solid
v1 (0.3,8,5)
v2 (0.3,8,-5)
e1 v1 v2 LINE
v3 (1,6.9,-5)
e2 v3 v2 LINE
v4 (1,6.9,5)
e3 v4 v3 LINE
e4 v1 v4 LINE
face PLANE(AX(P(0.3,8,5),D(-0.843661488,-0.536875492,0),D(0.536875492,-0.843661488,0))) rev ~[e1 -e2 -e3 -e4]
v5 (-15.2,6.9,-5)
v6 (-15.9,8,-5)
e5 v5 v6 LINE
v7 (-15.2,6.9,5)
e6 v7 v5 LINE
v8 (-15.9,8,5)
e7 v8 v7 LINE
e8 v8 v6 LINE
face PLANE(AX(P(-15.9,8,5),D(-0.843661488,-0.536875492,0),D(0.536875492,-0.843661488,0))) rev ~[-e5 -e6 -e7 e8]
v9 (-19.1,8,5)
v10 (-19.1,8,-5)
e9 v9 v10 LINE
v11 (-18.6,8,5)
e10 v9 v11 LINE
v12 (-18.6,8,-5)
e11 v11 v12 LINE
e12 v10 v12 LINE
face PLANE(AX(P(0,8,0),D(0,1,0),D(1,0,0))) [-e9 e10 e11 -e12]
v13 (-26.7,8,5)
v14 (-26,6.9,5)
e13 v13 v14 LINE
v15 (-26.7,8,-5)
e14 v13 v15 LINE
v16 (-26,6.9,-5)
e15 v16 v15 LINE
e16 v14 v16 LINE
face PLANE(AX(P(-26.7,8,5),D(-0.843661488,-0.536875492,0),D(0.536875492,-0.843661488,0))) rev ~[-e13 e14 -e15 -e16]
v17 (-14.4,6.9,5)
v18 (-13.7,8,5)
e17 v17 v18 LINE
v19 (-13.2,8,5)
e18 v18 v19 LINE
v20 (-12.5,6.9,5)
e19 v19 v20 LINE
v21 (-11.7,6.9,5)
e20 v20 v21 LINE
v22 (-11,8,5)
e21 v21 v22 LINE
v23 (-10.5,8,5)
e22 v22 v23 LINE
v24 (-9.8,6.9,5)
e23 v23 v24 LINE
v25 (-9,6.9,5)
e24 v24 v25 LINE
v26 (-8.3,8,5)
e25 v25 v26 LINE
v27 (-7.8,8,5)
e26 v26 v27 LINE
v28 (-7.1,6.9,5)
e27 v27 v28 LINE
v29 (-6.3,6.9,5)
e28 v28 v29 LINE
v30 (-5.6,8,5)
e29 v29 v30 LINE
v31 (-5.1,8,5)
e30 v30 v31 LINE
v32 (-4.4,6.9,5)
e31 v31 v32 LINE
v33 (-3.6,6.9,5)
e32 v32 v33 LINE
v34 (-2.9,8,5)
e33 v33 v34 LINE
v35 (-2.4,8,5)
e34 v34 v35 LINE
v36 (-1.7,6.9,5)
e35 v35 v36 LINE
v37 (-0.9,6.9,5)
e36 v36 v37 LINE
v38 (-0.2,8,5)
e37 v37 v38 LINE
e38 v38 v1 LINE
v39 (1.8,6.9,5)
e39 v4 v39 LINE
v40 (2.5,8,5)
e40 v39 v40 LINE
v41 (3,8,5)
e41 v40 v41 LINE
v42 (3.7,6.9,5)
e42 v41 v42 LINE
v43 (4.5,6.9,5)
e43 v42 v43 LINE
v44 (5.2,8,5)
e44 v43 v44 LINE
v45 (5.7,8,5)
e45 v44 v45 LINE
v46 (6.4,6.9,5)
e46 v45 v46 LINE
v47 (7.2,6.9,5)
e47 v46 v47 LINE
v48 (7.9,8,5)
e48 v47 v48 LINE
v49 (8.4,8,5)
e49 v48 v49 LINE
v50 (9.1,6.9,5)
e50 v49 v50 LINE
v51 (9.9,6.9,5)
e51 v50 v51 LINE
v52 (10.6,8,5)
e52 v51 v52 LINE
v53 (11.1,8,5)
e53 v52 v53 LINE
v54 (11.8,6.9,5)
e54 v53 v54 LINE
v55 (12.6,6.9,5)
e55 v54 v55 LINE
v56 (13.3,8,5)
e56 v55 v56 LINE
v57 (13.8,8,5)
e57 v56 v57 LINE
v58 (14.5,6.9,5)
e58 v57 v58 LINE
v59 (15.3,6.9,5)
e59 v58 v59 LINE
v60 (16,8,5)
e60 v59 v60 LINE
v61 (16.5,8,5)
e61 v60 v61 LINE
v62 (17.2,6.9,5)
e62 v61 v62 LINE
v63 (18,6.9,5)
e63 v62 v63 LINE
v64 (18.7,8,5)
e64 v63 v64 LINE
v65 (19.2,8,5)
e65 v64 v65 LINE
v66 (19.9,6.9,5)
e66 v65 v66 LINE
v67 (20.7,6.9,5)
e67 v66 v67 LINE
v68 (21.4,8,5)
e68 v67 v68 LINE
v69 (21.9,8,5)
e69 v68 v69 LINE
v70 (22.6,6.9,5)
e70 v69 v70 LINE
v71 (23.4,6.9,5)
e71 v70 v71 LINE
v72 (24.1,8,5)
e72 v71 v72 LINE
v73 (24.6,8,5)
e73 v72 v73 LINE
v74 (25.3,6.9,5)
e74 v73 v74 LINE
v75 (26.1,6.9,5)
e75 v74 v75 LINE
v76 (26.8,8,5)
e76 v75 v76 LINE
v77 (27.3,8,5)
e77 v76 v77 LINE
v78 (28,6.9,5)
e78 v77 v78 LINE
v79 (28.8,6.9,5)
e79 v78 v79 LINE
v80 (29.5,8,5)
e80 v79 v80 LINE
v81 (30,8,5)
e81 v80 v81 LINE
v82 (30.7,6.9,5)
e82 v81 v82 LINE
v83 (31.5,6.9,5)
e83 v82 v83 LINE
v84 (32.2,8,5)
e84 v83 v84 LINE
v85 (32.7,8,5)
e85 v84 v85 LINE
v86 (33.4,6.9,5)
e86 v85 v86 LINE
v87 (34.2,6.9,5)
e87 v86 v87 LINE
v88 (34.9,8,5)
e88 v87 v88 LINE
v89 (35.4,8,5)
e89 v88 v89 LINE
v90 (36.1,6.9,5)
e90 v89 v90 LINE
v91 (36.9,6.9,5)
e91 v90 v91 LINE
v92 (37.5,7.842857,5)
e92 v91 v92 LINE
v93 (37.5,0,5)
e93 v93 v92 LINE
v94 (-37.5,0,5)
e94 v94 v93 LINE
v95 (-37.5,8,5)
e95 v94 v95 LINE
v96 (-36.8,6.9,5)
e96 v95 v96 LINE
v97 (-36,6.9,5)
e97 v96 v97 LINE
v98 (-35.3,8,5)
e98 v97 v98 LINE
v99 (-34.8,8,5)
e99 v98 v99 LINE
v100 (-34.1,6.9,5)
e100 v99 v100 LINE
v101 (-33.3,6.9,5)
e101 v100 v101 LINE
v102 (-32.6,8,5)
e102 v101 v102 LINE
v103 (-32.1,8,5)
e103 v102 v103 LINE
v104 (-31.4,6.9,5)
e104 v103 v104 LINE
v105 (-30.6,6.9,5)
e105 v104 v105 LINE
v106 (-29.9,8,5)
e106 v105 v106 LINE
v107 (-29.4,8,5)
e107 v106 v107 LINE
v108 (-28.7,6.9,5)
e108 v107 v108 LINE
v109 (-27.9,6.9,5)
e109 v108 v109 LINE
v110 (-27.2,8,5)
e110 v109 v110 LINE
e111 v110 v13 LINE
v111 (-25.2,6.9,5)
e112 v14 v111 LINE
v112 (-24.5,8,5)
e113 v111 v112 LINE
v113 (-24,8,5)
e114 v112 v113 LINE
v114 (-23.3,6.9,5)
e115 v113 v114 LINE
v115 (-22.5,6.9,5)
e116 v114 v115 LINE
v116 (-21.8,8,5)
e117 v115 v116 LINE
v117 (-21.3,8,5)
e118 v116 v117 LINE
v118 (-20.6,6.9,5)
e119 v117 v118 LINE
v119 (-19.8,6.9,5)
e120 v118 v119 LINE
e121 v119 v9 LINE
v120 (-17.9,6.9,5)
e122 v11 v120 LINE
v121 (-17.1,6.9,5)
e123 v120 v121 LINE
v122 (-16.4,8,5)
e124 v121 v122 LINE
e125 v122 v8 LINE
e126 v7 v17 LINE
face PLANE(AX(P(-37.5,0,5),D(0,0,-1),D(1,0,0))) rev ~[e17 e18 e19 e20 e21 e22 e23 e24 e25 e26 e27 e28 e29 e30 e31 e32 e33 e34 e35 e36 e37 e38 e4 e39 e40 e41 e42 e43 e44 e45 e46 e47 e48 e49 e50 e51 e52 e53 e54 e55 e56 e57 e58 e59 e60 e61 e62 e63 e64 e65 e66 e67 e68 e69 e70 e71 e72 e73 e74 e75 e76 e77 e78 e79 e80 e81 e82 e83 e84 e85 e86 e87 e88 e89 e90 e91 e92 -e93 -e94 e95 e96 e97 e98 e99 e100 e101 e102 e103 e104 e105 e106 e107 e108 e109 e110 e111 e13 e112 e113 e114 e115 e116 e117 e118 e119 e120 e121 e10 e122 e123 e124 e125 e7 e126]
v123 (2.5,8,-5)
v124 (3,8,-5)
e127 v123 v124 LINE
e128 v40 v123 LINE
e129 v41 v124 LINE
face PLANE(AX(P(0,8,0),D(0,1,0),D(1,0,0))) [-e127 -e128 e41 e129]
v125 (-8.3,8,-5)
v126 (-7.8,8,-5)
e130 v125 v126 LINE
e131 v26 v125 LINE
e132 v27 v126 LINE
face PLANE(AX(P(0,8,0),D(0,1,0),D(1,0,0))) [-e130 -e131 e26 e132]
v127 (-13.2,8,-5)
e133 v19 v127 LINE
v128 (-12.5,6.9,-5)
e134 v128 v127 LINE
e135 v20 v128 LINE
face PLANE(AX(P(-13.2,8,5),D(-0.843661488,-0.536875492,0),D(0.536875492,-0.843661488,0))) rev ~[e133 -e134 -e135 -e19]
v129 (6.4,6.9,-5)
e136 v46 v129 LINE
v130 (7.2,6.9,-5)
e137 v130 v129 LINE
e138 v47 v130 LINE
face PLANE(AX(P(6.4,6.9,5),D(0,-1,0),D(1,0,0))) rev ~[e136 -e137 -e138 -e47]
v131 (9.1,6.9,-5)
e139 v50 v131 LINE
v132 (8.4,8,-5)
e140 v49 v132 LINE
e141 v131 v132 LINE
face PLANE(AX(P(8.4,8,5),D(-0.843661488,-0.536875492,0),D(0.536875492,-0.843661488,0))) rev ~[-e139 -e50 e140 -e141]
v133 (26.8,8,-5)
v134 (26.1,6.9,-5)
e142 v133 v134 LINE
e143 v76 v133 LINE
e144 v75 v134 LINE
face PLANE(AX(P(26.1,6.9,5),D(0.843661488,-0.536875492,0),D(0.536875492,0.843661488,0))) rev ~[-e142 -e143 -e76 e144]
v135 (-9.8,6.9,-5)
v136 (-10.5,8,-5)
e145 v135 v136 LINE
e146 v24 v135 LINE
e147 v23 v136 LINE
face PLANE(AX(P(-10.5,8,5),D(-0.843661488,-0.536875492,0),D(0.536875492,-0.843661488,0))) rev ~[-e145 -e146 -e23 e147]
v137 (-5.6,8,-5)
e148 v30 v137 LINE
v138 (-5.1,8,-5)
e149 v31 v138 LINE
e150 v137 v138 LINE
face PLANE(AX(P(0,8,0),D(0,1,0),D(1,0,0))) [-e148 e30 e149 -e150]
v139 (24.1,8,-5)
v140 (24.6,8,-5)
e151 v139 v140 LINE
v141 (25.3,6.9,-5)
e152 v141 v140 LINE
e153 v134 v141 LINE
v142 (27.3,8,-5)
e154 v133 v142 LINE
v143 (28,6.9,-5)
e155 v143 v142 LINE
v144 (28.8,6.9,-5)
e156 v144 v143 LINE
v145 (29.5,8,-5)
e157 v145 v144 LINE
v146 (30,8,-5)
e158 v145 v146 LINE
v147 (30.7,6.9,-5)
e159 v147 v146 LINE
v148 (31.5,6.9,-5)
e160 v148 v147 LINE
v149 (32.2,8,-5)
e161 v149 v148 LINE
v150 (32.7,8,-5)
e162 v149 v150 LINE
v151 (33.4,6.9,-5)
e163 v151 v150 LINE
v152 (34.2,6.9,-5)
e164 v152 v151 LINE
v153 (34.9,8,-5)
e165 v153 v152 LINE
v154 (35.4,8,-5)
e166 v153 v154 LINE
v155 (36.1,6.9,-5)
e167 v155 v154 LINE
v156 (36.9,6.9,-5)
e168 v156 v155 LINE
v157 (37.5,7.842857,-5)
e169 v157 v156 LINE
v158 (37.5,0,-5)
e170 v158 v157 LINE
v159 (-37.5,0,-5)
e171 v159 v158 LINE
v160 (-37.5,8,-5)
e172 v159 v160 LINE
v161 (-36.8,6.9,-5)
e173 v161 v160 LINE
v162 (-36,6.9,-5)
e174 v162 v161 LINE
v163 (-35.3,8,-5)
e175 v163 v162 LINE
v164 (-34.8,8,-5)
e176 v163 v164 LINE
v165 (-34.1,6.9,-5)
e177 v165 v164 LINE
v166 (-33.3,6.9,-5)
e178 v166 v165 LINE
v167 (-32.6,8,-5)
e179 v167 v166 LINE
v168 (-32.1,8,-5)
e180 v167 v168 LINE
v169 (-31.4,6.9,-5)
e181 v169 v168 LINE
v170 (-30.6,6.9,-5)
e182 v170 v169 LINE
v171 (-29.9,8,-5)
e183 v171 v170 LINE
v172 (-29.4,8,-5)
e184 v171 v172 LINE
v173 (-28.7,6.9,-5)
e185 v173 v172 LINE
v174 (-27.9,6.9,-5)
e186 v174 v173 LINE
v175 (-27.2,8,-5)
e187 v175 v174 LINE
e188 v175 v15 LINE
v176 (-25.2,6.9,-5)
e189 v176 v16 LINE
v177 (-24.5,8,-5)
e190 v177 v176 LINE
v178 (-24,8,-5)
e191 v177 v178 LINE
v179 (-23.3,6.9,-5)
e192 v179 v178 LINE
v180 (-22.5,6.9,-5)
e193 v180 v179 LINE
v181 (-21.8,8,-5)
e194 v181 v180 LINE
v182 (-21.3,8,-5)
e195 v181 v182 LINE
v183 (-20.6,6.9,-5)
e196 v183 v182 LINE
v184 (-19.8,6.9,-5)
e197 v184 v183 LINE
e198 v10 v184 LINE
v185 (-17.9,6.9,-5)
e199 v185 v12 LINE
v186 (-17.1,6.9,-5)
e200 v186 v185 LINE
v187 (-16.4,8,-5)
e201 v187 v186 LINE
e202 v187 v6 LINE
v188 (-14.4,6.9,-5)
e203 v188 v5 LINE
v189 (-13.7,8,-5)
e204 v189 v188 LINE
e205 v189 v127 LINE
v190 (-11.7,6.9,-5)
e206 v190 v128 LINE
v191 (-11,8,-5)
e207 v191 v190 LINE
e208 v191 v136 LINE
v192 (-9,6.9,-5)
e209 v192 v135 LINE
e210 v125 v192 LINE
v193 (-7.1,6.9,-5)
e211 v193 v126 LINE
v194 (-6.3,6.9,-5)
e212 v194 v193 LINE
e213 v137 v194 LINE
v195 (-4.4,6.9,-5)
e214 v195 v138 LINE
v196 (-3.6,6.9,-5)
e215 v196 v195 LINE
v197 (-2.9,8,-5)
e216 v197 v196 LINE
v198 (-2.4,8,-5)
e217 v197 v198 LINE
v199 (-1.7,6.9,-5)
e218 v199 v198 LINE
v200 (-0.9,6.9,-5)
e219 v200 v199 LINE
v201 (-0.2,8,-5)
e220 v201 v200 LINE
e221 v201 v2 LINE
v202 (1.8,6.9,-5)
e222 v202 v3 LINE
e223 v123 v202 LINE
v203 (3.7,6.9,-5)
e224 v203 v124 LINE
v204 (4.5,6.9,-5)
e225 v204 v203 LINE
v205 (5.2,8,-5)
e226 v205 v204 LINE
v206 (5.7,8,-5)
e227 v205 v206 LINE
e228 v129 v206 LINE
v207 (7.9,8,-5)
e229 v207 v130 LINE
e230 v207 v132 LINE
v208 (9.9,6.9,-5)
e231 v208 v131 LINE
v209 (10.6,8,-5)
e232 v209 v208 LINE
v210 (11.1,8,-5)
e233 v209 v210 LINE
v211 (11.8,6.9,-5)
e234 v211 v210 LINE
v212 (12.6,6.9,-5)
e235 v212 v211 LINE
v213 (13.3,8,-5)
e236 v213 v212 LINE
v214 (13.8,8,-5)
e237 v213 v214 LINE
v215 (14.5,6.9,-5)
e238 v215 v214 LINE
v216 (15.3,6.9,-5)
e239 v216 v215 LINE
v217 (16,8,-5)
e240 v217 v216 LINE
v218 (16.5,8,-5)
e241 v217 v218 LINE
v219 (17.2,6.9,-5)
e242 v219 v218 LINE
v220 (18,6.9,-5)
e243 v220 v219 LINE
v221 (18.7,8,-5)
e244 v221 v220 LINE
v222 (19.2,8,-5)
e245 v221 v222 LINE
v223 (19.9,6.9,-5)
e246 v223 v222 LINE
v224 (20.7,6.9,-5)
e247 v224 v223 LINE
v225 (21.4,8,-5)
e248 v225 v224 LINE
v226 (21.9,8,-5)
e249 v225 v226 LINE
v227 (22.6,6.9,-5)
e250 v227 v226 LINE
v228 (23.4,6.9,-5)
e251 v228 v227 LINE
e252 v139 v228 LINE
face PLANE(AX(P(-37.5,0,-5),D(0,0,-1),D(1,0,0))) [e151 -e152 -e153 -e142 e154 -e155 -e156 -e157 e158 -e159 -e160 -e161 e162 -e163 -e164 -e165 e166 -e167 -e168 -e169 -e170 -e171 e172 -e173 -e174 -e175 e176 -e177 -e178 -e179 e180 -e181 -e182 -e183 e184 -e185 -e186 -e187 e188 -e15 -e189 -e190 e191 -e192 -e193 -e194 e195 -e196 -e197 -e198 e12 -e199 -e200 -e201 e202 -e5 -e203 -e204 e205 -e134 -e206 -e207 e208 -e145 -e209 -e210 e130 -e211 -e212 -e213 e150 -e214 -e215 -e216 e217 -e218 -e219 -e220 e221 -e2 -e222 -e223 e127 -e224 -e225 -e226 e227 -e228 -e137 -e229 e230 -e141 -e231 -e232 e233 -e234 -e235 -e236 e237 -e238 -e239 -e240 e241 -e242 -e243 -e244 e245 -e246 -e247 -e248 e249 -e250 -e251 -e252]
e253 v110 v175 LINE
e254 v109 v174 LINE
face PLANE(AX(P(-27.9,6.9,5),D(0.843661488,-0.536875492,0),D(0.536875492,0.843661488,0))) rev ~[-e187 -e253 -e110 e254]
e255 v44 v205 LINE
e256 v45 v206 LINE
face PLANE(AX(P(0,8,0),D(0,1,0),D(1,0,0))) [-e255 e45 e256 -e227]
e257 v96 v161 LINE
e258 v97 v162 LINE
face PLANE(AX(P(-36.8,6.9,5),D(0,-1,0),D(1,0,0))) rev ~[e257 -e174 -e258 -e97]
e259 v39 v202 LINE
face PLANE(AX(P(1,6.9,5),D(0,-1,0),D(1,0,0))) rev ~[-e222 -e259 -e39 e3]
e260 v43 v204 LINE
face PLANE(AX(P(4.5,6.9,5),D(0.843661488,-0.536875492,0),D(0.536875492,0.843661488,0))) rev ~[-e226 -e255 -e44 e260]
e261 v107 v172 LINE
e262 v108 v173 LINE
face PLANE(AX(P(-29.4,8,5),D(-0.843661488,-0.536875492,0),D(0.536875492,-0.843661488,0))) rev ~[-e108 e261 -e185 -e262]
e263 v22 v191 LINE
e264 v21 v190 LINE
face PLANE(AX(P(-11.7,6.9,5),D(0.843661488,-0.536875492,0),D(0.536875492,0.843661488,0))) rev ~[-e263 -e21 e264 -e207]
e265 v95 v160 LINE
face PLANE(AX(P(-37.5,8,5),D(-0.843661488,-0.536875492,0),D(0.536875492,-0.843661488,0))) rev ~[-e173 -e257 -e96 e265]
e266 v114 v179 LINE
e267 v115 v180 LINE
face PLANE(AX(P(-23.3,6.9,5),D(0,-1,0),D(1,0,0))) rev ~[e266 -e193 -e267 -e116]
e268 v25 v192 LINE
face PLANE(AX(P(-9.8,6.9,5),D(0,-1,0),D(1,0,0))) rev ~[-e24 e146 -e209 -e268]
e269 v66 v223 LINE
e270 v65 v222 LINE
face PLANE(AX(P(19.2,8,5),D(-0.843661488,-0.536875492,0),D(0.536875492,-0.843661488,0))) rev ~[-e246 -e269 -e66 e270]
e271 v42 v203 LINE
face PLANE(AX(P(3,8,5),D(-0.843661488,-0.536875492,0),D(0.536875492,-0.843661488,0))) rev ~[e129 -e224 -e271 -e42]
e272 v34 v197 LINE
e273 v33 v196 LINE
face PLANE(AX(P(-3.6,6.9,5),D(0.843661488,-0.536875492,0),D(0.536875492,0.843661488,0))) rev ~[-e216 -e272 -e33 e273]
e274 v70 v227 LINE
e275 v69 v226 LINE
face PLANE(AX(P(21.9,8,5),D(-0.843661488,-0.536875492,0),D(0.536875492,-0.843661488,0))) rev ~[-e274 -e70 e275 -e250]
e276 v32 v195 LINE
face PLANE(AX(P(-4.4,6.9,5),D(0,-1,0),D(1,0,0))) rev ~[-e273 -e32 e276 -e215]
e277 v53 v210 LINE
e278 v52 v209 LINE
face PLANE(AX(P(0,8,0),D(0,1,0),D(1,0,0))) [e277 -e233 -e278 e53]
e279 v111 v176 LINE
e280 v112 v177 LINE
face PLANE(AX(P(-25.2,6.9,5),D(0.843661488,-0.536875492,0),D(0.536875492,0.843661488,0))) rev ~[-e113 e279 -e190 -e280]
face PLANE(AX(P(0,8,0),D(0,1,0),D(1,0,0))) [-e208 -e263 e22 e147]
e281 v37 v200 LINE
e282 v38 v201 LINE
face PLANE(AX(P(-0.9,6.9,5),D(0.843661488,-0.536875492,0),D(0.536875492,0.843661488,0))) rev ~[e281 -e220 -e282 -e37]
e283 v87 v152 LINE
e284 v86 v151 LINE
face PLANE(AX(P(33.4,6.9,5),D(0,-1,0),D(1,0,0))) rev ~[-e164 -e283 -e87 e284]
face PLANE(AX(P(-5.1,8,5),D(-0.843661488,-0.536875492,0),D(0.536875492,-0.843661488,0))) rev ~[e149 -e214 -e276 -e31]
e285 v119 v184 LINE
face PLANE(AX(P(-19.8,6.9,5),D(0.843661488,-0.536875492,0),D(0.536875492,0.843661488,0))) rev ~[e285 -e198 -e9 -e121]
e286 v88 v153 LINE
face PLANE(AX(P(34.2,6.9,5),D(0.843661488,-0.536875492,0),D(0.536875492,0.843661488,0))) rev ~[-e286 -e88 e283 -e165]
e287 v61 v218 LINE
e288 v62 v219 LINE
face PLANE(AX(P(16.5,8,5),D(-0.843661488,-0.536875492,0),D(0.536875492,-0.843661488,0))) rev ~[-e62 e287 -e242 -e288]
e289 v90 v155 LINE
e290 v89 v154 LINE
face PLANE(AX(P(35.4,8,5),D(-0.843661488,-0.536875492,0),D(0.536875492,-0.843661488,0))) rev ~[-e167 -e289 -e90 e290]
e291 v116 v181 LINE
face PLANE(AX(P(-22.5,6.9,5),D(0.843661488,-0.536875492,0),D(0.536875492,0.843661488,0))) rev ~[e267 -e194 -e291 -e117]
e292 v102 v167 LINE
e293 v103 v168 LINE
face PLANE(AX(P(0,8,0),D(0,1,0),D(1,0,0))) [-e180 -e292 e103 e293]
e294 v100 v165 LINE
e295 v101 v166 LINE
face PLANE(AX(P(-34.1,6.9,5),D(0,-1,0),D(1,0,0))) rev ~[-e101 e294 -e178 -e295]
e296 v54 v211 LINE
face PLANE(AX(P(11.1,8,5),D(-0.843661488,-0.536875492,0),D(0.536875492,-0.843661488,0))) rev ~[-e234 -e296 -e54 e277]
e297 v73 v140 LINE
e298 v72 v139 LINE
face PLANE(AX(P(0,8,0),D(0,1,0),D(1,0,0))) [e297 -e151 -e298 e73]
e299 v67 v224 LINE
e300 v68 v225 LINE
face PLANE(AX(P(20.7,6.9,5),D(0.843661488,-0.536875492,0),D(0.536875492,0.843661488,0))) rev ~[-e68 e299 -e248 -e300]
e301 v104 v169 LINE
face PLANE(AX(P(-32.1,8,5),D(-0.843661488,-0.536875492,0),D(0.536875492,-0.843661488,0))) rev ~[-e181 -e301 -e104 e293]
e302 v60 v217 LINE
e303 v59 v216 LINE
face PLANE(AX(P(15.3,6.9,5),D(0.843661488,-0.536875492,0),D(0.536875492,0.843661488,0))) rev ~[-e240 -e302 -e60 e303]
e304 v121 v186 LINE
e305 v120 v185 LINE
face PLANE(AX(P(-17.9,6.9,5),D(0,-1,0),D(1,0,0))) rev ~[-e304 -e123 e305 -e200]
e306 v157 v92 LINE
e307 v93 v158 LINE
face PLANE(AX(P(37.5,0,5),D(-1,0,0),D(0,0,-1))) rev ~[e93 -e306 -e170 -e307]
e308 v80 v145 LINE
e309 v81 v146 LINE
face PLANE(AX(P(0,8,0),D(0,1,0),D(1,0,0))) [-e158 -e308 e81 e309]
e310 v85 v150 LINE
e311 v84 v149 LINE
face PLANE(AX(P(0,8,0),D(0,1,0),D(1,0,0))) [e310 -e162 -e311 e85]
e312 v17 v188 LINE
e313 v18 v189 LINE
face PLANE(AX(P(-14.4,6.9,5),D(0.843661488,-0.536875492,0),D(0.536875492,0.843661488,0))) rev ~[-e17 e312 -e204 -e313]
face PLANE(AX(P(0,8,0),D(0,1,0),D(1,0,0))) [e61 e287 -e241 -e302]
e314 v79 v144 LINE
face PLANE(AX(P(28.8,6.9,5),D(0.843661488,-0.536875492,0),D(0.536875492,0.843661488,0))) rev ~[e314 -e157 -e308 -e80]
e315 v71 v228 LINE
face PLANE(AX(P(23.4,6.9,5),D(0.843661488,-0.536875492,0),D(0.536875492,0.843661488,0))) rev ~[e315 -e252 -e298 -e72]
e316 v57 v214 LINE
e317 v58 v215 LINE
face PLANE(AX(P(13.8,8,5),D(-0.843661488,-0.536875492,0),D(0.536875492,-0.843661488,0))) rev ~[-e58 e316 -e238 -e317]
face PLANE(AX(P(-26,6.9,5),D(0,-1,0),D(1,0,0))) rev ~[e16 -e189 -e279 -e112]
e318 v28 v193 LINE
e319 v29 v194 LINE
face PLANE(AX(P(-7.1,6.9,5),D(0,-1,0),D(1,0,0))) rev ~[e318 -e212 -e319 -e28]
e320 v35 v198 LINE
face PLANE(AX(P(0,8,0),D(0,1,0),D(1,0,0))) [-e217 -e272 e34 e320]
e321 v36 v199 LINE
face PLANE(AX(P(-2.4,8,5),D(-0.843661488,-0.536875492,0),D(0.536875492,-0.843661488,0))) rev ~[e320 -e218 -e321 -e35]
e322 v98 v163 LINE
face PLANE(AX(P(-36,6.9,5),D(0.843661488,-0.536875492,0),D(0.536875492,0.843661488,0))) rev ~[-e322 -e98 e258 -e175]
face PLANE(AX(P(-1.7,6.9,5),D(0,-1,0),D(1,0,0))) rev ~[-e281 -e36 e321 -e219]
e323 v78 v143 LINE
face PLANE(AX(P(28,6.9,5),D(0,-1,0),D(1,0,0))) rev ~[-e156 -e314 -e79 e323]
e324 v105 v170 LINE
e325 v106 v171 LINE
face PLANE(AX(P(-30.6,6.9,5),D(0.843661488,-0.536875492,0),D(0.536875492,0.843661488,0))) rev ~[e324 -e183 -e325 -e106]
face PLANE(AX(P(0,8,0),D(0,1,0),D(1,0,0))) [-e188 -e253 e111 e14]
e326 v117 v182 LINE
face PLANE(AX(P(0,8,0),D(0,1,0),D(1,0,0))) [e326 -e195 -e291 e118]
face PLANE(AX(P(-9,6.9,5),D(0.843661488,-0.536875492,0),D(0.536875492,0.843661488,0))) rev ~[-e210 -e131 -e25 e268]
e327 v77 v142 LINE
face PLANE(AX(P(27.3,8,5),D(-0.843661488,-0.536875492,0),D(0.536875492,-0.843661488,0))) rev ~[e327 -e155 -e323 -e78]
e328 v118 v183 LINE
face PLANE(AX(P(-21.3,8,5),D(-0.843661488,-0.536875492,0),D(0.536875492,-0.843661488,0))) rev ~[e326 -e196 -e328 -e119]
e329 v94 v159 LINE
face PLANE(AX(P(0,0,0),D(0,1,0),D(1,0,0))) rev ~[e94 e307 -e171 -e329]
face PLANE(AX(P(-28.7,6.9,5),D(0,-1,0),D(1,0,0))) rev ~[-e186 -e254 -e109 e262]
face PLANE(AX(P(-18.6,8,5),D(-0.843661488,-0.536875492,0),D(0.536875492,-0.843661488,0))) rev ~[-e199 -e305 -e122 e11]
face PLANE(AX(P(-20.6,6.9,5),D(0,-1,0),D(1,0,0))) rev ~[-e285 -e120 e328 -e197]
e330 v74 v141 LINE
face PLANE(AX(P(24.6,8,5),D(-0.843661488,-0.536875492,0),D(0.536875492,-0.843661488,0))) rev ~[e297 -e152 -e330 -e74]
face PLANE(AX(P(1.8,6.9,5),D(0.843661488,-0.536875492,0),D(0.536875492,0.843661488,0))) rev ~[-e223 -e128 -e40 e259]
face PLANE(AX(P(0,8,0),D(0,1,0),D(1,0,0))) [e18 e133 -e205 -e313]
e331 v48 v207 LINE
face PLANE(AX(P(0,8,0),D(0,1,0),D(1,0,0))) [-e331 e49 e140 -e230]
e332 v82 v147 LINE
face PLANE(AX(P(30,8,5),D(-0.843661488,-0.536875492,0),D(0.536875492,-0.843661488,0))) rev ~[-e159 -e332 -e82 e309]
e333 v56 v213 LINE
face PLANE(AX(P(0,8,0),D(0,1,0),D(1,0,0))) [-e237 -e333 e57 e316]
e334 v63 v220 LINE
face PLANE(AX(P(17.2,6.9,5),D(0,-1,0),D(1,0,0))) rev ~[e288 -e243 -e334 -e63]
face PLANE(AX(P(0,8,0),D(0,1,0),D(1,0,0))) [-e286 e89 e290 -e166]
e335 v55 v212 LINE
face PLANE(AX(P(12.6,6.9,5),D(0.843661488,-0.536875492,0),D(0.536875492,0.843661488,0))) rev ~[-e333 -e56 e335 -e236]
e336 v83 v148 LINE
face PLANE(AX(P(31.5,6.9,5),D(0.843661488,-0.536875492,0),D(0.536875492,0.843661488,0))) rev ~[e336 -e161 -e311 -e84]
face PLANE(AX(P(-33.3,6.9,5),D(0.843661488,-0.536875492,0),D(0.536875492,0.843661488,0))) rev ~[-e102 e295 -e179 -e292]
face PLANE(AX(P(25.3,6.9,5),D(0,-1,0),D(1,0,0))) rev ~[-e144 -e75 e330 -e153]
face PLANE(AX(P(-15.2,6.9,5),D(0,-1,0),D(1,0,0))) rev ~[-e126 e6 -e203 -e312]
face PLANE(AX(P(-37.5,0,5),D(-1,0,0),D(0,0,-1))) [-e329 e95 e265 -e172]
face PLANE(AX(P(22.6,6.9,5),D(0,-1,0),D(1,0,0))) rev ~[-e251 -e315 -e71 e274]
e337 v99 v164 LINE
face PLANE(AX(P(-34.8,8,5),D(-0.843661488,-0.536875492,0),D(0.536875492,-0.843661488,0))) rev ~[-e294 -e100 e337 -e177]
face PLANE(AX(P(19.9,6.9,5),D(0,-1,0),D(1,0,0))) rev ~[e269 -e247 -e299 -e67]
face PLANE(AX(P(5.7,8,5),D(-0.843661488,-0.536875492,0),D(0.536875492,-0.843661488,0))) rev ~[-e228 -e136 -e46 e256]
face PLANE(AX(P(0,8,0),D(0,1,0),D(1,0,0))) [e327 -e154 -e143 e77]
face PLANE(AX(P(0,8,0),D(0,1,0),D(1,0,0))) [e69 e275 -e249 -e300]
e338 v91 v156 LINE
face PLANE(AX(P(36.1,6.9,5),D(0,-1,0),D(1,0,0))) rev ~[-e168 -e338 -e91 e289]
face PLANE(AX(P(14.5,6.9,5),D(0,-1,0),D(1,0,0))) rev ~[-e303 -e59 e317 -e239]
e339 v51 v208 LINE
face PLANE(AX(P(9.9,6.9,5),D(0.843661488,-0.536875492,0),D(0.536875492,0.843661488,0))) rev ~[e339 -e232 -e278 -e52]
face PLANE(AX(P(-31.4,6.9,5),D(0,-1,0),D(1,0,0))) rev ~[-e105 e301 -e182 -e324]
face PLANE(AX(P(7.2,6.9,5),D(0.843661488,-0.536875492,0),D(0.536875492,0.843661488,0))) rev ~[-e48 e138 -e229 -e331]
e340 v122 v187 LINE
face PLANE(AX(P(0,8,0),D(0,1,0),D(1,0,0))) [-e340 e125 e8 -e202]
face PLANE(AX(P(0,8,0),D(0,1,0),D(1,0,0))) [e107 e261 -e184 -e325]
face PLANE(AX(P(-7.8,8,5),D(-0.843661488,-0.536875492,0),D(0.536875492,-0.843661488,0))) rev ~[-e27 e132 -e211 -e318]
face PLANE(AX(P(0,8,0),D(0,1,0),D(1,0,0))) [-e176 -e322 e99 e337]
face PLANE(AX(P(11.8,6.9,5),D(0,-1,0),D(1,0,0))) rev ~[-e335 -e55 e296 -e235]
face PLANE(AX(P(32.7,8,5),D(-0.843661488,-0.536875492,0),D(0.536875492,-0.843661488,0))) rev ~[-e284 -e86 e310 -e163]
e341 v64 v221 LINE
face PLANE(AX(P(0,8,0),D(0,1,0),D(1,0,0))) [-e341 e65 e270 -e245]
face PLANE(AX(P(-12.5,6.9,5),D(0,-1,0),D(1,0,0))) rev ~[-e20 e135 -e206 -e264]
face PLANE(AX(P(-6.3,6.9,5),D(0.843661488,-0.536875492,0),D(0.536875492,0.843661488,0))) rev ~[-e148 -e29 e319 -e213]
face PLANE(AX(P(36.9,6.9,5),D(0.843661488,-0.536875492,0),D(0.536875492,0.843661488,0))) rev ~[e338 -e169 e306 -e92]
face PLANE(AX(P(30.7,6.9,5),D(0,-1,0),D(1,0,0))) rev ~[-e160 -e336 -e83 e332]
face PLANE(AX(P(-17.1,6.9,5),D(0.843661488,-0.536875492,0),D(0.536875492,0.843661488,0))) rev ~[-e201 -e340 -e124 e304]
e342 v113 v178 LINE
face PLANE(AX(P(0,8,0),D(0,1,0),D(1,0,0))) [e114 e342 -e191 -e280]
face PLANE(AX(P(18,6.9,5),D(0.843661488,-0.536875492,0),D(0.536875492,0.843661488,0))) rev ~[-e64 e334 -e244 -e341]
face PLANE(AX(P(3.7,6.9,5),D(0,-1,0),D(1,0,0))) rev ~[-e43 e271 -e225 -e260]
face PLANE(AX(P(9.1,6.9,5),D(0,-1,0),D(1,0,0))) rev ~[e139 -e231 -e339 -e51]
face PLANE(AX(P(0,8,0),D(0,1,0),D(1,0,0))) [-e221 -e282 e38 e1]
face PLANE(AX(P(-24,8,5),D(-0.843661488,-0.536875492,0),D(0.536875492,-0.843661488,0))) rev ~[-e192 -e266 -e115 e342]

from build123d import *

# Parameters (mm, degrees)
SKETCH2_W           = 75
SKETCH2_H           = 10
BOSS_EXTRUDE1_DEPTH = 8
CUT_EXTRUDE1_DEPTH  = 15
LPATTERN1_COUNT     = 31
LPATTERN1_PITCH     = 2.7


with BuildPart() as part:
    # Sketch2 → Boss-Extrude1 (new body)
    with BuildSketch(Plane(origin=(0, 0, 0), x_dir=(1, 0, 0), z_dir=(0, 1, 0))):
        Rectangle(SKETCH2_W, SKETCH2_H)
    extrude(amount=BOSS_EXTRUDE1_DEPTH)

    # Sketch3 → Cut-Extrude1 (cut)
    with BuildSketch(Plane.XY.offset(5)):
        Polygon((-36.8, 6.9), (-36, 6.9), (-35.3, 8), (-37.5, 8), align=None)
    cut_extrude1 = extrude(amount=-CUT_EXTRUDE1_DEPTH, mode=Mode.SUBTRACT)

    # LPattern1: Cut-Extrude1 ×31
    with Locations(*[(i * LPATTERN1_PITCH, 0, 0) for i in range(1, LPATTERN1_COUNT)]):
        add(cut_extrude1, mode=Mode.SUBTRACT)


solid = part.part
